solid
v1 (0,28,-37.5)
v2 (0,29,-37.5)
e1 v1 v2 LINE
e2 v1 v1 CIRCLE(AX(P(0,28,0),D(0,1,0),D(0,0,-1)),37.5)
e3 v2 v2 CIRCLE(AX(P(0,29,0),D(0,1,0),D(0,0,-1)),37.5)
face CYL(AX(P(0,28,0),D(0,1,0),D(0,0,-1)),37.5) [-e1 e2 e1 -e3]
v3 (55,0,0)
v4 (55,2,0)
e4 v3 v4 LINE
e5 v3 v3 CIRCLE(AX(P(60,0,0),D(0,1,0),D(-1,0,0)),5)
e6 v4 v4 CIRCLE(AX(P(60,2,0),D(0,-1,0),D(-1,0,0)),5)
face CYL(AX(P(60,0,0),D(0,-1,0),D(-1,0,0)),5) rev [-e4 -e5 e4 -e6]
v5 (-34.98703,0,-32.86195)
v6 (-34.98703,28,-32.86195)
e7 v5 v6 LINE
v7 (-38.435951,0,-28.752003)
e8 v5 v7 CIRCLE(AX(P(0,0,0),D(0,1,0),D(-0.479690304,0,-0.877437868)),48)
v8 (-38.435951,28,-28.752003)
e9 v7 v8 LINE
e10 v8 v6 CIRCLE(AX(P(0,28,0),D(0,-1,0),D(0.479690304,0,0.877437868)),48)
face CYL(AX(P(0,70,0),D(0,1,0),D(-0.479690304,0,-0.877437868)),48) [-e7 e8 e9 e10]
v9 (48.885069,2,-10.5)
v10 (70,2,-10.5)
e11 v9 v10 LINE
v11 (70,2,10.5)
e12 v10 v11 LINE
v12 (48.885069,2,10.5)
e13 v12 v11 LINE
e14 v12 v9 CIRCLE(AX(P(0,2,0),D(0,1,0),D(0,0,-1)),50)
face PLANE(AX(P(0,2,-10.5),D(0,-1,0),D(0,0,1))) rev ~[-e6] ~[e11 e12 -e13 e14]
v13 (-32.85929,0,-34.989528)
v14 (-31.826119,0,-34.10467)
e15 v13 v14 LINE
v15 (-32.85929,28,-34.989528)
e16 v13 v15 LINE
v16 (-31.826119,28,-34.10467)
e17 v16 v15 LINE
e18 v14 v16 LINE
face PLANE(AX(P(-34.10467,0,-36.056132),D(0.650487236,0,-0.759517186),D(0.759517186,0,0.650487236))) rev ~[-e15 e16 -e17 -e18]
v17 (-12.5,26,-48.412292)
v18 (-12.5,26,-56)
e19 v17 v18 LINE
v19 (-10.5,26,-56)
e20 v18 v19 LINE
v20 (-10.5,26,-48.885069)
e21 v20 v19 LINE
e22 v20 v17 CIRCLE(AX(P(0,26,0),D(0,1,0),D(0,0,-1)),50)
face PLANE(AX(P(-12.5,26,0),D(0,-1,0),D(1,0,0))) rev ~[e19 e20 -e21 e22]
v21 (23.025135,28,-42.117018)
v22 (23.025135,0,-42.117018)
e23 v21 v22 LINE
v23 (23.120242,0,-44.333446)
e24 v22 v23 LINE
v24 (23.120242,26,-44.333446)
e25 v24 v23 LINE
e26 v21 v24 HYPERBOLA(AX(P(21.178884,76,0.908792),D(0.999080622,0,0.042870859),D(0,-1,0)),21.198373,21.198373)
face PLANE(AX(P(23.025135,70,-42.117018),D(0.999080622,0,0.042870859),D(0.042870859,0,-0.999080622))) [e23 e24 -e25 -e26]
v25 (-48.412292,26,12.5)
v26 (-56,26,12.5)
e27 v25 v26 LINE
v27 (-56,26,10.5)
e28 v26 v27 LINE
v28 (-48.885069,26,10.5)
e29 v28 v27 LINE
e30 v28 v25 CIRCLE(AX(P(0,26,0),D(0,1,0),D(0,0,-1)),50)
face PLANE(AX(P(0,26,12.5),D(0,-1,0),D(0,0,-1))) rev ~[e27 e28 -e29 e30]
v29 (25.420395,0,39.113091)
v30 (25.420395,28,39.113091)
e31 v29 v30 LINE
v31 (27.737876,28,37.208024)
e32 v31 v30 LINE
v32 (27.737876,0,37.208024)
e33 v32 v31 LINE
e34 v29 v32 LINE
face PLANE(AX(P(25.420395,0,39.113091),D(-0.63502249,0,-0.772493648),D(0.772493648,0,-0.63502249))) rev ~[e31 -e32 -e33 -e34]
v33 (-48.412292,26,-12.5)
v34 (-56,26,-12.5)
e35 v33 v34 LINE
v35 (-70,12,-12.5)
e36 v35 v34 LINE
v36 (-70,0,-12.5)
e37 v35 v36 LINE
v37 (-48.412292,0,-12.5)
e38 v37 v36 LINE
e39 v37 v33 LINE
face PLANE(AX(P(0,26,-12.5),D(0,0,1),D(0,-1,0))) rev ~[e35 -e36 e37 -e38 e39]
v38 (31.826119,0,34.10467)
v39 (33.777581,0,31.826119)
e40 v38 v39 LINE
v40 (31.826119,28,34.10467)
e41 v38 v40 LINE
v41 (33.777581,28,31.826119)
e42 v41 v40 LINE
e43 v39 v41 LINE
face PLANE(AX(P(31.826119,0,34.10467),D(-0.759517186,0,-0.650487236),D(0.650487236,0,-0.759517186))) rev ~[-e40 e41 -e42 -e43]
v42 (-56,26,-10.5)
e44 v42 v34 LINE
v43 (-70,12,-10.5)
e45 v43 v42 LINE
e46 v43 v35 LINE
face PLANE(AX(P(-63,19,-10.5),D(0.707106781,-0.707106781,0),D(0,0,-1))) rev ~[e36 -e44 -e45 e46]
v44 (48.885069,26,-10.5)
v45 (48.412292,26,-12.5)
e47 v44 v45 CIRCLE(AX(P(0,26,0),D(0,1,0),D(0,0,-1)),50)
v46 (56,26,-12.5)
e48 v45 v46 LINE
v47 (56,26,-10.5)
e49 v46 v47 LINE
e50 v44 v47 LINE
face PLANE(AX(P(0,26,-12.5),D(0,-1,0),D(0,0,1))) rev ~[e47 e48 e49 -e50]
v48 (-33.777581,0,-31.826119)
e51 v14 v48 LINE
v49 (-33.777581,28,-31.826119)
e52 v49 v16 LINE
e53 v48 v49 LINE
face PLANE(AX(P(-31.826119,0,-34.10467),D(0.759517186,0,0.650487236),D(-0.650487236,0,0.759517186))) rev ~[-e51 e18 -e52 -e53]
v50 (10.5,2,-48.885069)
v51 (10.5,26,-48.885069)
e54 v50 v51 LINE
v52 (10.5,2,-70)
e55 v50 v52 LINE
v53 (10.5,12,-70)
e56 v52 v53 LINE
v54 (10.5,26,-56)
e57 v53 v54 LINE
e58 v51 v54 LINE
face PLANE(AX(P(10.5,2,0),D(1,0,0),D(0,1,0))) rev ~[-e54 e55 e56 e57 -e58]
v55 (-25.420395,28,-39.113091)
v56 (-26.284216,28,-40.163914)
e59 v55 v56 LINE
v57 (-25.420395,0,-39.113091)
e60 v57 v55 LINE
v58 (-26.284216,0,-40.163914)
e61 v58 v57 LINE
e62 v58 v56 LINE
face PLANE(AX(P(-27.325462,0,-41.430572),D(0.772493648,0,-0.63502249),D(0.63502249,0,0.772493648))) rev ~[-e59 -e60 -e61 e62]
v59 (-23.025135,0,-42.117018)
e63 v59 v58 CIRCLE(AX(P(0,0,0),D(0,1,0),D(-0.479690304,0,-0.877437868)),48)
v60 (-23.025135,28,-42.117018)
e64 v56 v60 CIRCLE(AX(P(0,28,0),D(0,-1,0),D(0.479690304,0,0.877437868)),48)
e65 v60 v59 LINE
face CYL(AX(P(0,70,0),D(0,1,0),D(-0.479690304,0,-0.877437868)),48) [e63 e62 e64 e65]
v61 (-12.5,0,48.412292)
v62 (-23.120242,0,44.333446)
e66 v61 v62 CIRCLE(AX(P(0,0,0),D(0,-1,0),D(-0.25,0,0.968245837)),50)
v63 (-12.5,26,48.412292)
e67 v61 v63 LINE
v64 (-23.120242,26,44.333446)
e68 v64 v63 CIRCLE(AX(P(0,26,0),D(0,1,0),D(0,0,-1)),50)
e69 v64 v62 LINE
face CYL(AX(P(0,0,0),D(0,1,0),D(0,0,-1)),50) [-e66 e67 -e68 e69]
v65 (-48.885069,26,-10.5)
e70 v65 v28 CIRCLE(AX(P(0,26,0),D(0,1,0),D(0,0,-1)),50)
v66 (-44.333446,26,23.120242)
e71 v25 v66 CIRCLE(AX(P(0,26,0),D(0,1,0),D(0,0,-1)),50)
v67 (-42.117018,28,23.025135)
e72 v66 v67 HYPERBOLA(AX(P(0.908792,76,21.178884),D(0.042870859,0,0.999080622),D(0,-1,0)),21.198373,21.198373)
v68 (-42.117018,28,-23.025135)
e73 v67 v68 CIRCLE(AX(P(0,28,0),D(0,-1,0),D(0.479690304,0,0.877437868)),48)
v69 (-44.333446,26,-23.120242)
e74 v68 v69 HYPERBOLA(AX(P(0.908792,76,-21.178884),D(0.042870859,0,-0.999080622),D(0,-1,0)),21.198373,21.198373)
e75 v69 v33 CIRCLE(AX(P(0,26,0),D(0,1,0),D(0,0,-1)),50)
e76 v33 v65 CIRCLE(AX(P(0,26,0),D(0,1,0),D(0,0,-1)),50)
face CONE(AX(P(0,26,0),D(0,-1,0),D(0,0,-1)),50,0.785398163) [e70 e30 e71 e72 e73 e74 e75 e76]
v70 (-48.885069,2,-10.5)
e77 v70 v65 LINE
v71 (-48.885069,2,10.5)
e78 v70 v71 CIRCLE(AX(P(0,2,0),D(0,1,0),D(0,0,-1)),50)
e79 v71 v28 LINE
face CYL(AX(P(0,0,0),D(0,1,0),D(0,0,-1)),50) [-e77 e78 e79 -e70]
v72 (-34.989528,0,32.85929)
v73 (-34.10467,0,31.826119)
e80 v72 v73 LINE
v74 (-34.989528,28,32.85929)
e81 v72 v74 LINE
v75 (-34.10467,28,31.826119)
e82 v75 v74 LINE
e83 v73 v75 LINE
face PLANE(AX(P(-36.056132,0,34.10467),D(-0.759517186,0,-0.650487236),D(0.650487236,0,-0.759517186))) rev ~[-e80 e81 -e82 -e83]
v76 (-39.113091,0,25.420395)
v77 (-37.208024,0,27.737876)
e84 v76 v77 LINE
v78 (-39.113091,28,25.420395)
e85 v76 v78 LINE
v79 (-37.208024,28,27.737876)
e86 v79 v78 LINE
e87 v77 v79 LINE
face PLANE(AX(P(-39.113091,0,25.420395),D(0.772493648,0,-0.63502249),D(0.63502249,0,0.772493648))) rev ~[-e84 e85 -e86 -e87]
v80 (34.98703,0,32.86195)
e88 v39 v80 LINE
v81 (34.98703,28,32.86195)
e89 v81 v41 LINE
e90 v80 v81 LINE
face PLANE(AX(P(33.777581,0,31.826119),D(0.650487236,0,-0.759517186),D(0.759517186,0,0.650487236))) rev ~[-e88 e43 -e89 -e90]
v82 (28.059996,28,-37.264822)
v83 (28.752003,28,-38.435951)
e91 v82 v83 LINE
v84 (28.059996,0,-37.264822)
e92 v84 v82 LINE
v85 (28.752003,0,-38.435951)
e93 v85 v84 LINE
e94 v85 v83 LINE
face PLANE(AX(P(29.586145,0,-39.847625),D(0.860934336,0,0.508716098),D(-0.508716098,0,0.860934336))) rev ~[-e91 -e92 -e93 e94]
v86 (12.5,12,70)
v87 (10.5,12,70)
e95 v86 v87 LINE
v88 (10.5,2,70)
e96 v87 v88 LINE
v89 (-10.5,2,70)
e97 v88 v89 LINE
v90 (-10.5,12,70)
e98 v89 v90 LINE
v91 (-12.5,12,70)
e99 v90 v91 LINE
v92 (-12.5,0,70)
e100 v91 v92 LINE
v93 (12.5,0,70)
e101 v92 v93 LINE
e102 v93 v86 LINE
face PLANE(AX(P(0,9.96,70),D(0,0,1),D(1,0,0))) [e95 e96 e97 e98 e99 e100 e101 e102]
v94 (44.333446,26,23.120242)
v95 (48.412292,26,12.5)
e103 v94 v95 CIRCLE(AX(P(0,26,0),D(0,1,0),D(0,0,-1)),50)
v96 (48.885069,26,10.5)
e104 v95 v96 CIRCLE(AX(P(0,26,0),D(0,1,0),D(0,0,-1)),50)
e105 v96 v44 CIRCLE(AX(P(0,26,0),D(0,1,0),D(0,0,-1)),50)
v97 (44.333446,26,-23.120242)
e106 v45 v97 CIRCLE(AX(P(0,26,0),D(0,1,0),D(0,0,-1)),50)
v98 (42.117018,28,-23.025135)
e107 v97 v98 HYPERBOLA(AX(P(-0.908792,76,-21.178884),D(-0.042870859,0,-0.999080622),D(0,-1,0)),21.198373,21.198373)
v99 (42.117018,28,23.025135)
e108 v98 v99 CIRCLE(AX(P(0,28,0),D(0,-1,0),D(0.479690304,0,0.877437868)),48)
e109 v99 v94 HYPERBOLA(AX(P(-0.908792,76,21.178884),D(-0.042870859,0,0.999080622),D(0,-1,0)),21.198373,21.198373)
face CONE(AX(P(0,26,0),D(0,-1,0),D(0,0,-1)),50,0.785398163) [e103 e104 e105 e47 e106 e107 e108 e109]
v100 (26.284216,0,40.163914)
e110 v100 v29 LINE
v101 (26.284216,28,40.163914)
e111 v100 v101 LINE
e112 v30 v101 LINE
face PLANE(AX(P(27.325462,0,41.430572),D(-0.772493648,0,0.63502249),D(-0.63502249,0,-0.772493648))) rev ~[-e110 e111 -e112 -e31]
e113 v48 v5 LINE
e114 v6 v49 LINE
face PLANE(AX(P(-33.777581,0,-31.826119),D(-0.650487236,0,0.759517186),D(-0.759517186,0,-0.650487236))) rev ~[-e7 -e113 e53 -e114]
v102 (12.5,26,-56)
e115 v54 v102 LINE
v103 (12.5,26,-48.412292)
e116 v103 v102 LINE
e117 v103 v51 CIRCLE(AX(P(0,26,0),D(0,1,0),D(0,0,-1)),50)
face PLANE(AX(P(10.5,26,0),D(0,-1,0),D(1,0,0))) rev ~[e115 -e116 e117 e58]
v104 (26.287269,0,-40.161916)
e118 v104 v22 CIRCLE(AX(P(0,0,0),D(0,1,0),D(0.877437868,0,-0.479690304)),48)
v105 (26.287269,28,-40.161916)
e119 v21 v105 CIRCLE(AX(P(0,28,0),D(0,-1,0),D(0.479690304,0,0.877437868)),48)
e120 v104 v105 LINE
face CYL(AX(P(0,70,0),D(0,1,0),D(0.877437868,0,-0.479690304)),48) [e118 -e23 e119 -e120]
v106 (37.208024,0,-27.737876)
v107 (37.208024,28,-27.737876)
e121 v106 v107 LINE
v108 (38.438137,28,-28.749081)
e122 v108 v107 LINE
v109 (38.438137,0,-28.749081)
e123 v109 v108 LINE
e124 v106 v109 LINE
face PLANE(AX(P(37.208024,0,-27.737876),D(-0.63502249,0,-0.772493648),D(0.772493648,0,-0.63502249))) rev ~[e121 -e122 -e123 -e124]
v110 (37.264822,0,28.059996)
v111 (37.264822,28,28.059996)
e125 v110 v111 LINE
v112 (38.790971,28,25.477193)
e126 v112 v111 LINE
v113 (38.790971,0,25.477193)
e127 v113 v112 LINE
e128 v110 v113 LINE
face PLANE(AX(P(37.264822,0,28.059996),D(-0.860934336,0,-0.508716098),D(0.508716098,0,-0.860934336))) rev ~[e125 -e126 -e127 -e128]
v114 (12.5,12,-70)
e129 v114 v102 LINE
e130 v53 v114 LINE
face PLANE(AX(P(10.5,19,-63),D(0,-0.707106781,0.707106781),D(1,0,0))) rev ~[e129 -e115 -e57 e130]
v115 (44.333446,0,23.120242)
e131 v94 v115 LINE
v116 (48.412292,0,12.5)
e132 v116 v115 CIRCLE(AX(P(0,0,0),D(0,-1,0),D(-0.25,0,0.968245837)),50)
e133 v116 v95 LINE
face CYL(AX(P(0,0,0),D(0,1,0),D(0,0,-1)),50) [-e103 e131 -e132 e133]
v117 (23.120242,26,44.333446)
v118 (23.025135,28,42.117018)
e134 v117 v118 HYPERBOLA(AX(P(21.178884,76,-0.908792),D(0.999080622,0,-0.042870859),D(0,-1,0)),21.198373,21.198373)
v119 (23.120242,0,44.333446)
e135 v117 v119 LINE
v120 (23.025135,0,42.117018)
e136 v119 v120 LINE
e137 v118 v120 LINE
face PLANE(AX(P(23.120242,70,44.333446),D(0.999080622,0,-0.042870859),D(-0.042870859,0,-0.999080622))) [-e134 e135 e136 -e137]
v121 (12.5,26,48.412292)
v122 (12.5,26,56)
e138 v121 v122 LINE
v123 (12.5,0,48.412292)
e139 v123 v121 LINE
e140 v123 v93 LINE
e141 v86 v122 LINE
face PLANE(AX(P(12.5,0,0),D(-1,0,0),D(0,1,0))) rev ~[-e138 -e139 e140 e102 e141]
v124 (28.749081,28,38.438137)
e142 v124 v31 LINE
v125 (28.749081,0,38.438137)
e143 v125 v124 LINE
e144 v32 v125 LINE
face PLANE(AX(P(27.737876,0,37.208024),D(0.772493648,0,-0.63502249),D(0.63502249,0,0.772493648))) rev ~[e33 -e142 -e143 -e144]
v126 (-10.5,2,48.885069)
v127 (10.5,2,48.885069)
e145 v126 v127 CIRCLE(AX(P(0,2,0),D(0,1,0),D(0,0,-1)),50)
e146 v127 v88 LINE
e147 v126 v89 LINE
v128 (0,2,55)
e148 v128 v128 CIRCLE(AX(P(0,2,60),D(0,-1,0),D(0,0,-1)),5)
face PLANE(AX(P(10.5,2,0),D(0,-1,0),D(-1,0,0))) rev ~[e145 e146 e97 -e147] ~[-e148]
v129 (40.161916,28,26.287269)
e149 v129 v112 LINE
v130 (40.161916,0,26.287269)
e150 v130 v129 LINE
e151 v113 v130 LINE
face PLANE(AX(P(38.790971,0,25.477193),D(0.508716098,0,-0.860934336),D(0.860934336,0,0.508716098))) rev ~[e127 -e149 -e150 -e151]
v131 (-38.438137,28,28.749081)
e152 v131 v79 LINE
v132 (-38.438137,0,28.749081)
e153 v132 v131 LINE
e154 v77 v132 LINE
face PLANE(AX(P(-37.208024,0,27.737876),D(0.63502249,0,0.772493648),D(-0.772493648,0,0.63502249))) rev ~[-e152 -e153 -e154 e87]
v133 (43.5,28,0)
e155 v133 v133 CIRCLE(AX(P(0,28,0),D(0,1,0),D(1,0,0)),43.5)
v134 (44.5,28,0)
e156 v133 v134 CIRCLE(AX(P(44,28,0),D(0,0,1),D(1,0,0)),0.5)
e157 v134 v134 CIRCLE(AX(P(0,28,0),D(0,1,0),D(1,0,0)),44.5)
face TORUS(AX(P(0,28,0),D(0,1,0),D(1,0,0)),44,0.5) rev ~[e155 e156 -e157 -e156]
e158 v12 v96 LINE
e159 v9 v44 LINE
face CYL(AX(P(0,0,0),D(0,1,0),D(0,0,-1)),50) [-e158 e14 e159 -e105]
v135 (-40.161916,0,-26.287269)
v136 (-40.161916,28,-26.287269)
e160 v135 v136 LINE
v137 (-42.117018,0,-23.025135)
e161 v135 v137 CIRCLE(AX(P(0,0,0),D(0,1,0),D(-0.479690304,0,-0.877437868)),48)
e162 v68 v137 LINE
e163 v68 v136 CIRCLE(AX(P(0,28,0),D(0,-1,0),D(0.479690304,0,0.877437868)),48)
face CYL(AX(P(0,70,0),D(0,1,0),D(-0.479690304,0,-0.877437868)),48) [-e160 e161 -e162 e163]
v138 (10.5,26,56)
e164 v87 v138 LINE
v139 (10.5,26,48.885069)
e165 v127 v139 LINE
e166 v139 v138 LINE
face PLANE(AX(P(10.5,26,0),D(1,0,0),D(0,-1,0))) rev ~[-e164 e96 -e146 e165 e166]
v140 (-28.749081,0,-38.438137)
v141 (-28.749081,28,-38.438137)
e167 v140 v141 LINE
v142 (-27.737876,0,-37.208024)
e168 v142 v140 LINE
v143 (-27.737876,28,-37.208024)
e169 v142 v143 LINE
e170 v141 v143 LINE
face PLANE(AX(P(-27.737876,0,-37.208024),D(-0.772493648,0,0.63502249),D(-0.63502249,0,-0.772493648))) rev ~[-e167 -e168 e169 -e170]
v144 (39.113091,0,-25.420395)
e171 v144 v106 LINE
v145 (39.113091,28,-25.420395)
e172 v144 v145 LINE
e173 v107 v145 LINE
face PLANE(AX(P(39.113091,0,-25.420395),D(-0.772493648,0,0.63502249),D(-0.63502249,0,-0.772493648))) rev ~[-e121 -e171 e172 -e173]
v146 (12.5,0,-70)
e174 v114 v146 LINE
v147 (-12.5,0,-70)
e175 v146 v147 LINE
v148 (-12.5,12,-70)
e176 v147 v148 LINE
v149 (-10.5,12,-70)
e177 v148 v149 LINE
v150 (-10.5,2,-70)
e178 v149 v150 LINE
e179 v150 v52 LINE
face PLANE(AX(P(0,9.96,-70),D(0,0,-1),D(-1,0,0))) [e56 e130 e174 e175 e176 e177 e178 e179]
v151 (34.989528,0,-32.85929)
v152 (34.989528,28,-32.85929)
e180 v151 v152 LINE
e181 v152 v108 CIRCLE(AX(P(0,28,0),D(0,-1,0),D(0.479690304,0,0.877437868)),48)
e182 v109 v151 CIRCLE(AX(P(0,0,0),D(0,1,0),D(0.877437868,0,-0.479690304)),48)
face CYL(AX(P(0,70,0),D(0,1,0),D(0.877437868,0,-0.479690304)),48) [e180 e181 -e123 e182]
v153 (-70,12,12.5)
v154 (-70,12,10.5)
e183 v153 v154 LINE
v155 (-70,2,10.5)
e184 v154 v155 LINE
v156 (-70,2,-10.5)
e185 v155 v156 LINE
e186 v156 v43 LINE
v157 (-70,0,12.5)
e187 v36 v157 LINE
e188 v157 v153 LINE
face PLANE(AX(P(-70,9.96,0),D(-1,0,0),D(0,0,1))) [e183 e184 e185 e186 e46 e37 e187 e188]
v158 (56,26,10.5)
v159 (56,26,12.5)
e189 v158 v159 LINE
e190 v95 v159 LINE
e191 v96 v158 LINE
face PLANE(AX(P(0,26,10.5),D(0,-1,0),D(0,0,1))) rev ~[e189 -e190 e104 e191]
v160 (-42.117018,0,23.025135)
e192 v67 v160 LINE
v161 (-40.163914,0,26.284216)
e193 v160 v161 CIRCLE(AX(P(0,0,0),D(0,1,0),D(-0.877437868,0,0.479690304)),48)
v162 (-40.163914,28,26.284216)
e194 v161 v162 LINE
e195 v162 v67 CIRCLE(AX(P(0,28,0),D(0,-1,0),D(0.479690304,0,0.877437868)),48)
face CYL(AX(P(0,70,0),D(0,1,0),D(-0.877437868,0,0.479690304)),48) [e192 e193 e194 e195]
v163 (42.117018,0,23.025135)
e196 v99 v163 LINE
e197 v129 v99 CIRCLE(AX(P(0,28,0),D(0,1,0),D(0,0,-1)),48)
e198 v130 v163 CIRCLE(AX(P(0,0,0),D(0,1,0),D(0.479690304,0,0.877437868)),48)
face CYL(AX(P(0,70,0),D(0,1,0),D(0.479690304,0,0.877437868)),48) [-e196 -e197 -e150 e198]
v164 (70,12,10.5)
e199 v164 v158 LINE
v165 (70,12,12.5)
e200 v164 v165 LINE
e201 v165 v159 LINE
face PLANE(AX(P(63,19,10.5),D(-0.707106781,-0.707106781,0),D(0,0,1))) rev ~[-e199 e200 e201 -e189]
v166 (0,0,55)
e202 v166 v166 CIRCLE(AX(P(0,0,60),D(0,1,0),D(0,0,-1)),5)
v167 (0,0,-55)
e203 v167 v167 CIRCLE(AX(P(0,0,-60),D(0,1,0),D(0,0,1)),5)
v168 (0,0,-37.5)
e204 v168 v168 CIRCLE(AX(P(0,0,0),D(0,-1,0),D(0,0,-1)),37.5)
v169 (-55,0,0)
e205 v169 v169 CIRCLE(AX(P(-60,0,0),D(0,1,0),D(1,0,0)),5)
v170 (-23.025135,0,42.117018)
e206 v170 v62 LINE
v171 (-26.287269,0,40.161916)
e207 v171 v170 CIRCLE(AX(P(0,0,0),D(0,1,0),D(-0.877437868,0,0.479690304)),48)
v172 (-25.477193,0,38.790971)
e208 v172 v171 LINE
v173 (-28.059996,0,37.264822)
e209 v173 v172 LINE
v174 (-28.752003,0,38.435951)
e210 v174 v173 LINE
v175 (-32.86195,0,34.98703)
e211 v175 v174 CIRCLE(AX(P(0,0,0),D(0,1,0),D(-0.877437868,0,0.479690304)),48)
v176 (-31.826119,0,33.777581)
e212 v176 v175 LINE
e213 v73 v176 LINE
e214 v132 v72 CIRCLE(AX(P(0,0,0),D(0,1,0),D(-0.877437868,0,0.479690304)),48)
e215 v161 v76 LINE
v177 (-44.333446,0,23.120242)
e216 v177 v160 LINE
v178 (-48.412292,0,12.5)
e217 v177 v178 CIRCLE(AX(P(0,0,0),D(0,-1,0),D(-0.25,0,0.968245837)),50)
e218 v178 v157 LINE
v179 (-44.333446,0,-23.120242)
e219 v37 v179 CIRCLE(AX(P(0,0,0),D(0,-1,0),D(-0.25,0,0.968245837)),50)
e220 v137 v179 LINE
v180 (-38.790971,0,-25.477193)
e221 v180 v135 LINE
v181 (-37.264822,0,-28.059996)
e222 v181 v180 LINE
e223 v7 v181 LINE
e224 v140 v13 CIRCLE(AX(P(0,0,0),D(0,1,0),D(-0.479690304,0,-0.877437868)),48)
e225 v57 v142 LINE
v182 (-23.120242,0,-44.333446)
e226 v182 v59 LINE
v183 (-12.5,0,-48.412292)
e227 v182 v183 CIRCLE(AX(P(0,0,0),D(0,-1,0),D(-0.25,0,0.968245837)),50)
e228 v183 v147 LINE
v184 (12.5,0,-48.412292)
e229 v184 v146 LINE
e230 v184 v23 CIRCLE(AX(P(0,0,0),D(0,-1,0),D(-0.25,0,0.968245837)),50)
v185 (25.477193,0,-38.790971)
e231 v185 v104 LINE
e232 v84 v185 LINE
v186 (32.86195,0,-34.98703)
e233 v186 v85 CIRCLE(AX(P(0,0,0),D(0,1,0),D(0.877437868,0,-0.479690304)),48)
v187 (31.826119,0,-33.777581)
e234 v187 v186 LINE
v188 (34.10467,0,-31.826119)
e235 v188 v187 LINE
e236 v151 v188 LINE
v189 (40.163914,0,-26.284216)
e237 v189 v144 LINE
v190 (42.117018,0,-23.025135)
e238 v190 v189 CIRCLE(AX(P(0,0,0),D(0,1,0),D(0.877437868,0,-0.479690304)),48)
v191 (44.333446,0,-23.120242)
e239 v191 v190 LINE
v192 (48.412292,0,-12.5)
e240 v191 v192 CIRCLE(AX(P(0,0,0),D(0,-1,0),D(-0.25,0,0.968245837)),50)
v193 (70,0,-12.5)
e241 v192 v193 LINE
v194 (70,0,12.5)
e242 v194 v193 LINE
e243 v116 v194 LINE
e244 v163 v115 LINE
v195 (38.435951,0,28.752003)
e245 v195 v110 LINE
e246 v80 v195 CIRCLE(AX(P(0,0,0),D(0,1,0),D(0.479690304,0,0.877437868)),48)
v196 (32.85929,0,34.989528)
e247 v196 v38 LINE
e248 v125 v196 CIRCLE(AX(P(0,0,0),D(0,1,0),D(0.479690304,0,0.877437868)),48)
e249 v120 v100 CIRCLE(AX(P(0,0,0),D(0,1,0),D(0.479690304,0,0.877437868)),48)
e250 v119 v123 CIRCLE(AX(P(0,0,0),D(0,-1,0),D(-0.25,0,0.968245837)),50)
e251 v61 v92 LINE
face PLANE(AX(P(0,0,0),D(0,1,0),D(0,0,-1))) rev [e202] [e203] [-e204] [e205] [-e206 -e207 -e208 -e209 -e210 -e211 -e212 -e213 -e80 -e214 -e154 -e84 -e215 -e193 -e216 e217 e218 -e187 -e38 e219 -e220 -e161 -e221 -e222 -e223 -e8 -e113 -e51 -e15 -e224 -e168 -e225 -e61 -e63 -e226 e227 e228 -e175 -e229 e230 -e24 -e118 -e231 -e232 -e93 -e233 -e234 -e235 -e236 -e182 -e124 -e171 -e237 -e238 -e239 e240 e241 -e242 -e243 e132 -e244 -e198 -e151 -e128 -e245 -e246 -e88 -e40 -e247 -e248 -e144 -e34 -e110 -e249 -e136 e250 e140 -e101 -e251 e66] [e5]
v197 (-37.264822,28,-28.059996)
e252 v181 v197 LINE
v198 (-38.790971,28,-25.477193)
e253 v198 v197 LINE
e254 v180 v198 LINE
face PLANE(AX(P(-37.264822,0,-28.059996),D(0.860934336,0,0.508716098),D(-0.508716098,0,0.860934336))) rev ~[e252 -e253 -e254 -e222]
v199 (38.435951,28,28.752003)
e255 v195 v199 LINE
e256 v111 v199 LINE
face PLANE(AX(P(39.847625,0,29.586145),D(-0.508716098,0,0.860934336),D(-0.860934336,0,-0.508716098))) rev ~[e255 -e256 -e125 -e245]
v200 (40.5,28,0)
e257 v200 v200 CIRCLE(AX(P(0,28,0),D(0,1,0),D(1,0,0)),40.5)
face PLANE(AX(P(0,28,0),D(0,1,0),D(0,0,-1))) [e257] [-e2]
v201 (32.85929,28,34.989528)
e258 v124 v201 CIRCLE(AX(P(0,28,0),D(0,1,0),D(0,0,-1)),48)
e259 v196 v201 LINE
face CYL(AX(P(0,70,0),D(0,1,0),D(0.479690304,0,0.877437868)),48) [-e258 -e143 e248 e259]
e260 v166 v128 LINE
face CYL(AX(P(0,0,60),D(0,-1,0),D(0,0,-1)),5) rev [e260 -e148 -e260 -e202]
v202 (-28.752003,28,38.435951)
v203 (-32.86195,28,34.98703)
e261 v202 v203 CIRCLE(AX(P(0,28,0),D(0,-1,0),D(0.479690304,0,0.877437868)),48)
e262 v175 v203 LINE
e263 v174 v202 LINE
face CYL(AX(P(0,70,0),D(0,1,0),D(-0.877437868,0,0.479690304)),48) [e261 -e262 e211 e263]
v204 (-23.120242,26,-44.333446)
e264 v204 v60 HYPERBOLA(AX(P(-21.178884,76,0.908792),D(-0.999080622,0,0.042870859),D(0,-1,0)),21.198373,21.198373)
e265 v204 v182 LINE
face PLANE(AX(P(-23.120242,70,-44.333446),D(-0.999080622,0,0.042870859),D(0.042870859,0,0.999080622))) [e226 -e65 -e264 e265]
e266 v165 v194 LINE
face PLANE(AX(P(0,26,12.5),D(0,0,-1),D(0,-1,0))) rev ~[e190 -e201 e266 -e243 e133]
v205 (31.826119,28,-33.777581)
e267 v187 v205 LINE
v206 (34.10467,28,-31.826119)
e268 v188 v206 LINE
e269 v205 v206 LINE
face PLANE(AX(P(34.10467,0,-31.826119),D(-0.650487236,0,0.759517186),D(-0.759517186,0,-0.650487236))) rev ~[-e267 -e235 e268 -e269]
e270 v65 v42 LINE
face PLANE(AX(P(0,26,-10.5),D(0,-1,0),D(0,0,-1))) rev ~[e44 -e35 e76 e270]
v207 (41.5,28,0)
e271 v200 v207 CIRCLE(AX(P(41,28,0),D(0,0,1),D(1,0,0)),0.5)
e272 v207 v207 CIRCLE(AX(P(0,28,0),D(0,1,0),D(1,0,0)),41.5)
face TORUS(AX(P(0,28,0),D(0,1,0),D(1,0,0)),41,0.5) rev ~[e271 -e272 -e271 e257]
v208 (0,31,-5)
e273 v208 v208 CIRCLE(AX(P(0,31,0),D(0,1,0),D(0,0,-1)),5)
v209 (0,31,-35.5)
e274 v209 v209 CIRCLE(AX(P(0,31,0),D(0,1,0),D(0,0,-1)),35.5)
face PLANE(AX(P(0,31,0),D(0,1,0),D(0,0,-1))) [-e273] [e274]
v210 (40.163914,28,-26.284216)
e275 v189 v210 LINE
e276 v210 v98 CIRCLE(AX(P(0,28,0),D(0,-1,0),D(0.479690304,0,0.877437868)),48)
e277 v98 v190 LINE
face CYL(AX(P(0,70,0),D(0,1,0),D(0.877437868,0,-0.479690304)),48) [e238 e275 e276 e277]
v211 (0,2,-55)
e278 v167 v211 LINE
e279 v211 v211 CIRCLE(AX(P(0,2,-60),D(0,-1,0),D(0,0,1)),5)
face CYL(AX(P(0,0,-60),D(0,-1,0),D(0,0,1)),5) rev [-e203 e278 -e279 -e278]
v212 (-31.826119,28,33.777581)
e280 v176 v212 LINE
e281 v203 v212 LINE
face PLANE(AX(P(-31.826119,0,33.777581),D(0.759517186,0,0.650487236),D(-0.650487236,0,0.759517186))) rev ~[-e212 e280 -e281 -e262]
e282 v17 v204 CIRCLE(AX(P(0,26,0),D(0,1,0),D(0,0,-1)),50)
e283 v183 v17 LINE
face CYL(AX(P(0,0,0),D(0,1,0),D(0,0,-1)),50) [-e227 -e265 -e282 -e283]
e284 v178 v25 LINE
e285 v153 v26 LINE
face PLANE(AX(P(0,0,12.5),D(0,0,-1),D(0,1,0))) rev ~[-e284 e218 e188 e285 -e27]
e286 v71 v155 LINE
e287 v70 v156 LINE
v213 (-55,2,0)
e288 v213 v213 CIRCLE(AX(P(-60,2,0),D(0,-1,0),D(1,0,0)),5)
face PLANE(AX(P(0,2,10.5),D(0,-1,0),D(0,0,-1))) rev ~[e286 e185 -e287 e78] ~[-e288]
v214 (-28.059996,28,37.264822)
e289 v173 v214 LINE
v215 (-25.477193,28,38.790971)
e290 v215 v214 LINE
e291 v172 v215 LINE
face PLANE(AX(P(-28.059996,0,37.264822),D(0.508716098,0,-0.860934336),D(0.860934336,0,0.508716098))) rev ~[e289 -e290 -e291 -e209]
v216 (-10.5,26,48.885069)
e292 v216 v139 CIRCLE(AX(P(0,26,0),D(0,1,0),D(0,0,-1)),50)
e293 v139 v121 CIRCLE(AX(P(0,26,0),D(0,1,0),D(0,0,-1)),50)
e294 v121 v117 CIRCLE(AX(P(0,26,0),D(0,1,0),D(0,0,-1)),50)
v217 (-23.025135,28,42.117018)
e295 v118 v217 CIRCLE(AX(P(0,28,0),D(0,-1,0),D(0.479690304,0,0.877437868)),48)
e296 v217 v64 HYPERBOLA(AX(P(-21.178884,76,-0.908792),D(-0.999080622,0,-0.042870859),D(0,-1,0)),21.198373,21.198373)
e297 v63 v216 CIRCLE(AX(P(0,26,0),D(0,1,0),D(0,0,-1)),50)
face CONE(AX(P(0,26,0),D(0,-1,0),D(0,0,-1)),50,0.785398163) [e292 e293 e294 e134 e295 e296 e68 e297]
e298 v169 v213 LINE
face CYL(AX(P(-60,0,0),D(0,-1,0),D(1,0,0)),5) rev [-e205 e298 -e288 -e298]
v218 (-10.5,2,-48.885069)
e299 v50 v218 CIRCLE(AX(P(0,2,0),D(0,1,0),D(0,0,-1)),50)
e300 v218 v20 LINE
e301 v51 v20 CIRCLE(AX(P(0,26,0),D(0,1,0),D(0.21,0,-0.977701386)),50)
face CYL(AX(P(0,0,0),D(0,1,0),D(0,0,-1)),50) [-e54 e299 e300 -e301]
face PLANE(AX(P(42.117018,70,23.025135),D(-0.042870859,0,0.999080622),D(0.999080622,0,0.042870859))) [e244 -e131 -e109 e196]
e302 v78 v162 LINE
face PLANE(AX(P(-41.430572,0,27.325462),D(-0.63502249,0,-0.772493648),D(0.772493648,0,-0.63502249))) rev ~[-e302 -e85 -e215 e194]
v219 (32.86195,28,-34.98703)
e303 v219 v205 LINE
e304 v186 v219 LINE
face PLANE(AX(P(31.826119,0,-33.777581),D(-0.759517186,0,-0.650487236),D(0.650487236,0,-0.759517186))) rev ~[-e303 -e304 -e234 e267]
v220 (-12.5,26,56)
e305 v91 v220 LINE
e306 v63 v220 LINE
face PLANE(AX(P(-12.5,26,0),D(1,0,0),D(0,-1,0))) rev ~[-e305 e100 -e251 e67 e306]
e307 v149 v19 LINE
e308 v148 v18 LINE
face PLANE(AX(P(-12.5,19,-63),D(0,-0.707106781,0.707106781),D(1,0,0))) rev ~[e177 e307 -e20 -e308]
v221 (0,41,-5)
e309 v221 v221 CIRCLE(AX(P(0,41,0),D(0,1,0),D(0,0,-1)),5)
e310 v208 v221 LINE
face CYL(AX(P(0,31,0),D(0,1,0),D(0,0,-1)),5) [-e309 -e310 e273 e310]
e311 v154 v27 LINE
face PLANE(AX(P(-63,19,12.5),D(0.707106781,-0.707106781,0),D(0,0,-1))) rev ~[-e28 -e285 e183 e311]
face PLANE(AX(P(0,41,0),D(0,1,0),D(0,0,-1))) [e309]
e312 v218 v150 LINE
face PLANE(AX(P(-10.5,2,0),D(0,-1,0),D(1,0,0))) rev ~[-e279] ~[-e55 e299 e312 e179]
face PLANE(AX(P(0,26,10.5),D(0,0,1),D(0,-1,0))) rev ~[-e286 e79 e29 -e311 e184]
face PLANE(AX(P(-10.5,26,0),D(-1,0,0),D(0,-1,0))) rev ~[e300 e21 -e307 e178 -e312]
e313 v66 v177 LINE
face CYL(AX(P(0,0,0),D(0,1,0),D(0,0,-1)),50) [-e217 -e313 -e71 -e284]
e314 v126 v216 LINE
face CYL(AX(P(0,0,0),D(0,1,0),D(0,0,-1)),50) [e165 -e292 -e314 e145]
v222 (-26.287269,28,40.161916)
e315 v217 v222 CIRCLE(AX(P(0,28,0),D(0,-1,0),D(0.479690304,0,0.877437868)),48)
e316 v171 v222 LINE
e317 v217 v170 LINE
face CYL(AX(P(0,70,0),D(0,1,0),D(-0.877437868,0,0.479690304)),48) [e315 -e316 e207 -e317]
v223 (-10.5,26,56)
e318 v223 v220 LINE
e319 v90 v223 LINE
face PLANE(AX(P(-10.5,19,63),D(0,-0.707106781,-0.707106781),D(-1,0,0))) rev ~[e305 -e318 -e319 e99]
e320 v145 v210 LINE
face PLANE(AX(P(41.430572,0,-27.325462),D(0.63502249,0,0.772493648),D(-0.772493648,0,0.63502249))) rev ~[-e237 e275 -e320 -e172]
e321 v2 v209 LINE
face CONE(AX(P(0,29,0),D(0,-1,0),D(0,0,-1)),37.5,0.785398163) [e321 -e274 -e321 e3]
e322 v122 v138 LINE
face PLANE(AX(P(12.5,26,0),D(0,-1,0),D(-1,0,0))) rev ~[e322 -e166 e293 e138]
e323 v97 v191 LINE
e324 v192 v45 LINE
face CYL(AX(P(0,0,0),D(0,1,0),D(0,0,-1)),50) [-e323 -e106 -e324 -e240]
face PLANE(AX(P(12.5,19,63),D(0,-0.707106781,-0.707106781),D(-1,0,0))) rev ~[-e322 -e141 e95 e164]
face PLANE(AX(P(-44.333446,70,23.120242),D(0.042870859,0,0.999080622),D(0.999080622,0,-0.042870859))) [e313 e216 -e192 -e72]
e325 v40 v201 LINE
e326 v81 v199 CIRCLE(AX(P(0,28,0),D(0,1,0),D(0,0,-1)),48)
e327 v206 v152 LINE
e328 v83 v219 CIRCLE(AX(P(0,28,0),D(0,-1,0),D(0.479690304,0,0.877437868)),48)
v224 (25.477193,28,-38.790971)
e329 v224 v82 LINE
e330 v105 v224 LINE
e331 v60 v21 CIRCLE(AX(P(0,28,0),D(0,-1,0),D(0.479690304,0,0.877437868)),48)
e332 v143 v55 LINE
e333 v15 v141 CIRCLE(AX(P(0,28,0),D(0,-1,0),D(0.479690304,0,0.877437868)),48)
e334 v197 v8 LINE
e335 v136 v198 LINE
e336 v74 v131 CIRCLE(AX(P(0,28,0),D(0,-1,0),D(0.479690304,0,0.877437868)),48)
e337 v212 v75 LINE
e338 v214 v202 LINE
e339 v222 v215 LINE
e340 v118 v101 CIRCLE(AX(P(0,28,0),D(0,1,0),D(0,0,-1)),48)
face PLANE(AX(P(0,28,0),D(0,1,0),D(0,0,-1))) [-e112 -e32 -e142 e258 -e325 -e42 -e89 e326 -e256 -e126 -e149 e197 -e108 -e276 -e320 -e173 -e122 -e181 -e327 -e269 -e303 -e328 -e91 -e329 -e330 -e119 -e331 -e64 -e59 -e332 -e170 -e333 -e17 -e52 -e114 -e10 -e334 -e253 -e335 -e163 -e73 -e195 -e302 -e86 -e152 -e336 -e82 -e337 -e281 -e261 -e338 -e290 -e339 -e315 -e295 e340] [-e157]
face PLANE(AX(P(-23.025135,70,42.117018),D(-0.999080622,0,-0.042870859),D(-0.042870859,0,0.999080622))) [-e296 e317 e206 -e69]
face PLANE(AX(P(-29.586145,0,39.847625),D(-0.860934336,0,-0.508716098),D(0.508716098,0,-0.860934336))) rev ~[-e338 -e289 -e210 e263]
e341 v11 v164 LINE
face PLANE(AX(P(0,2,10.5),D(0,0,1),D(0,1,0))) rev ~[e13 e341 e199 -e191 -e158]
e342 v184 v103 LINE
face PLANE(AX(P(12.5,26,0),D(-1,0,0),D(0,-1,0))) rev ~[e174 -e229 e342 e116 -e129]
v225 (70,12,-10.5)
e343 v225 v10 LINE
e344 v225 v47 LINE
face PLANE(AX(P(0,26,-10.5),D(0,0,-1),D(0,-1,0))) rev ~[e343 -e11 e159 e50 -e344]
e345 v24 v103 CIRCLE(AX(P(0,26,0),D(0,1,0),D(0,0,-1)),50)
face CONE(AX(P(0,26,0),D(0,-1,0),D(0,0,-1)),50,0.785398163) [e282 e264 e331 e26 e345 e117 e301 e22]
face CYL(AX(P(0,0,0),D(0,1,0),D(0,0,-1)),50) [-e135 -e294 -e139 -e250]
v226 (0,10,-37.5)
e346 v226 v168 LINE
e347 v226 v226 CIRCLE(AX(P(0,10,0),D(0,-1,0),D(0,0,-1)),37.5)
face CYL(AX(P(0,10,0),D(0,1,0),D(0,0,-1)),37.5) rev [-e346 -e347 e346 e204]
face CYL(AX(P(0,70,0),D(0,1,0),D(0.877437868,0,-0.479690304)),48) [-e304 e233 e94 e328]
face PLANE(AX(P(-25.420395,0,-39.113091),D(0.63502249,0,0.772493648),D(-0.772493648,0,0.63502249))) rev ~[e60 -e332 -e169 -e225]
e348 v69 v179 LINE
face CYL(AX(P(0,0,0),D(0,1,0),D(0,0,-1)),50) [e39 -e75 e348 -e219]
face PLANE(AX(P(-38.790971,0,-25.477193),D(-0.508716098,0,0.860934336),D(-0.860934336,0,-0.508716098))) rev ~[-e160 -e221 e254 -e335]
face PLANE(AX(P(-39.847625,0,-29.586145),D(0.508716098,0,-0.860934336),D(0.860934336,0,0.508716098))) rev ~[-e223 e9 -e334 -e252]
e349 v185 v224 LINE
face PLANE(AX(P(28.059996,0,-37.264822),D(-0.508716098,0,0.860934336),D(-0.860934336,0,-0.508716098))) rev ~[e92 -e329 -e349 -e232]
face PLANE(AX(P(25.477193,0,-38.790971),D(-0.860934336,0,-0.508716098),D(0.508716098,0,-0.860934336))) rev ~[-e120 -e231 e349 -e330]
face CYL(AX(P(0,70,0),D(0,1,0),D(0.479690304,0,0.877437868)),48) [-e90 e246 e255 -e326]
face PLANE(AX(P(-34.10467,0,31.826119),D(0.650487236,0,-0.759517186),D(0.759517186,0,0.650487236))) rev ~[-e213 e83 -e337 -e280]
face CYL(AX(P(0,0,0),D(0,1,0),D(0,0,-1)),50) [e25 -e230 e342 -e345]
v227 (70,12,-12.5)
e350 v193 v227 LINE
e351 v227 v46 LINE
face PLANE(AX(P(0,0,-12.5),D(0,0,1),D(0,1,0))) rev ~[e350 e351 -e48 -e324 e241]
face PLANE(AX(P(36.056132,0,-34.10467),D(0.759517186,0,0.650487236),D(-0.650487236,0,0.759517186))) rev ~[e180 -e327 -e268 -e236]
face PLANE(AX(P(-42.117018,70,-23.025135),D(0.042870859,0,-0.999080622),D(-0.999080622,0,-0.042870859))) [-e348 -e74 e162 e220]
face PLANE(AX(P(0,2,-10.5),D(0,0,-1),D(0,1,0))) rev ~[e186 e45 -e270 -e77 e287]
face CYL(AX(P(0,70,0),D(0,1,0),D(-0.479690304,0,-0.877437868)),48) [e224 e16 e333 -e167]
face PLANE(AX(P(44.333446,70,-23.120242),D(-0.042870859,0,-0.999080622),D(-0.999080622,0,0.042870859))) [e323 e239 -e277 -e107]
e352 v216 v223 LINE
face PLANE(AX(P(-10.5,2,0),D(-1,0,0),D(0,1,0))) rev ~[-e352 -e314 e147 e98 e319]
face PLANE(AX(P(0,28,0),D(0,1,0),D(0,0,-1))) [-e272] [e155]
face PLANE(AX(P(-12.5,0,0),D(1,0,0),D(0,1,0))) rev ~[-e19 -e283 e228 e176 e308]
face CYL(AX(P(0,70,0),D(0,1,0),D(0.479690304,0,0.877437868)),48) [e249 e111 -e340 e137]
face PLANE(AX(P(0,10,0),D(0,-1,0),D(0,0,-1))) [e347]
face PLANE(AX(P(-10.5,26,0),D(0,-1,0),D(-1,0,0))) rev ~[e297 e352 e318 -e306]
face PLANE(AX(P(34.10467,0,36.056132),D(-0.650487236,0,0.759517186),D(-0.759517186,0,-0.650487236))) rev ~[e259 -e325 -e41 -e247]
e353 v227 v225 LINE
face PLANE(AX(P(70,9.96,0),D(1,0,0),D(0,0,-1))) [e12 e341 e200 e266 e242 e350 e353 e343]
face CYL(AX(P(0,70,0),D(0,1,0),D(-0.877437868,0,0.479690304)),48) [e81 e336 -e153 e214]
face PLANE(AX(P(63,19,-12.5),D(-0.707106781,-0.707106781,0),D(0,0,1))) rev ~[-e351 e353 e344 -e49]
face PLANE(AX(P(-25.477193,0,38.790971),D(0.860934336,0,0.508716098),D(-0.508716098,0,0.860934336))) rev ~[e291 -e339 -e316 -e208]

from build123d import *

# Parameters (mm, degrees)
CHAMFER1_SIZE                   = 2
BOSS_EXTRUDE1_DEPTH             = 70
CHAMFER2_SIZE                   = 14
SKETCH3_R                       = 5
CUT_EXTRUDE1_DEPTH              = 70
CIRPATTERN1_COUNT               = 4
CHAMFER2_OF_CIRPATTERN1_SIZE    = 14
CUT_EXTRUDE3_START              = 70
CUT_EXTRUDE3_DEPTH              = 70
CUT_EXTRUDE4_DEPTH              = 70
CIRPATTERN2_COUNT               = 2
CIRPATTERN2_ANGLE               = 10
CIRPATTERN2_THE_OTHER_WAY_COUNT = 2
CIRPATTERN2_THE_OTHER_WAY_ANGLE = 10
CIRPATTERN3_COUNT               = 4
CIRPATTERN3_COPY_1_DEPTH        = 70
CIRPATTERN3_COPY_2_DEPTH        = 70
CIRPATTERN3_COPY_3_DEPTH        = 70
CIRPATTERN3_COPY_4_DEPTH        = 70
CIRPATTERN3_COPY_5_DEPTH        = 70
CIRPATTERN3_COPY_6_DEPTH        = 70
CUT_SWEEP1_PROFILE_R            = 0.5
CUT_SWEEP2_PROFILE_R            = 0.5
CUT_EXTRUDE5_START              = -10
SKETCH41_R                      = 37.5
CUT_EXTRUDE5_DEPTH              = 10


with BuildPart() as part:
    # Sketch1 → Revolve1 (revolve)
    with BuildSketch(Plane.XY, mode=Mode.PRIVATE) as revolve1_sk:
        Polygon((0, 0), (-50, 0), (-50, 28), (-37.5, 28), (-37.5, 31), (-5, 31), (-5, 41), (0, 41), align=None)
    revolve(revolve1_sk.sketch.rotate(Axis((0, 0, 0), (0, 1, 0)), 270), axis=Axis((0, 0, 0), (0, 1, 0)))

    # Chamfer1
    chamfer1_edges = [part.edges().sort_by_distance(p)[0] for p in [
        (0, 31, 37.5),
        (0, 28, 50),
    ]]
    chamfer(chamfer1_edges, length=CHAMFER1_SIZE)

    # Sketch2 → Boss-Extrude1 (add)
    with BuildSketch(Plane.XY):
        Polygon((-10.5, 26), (-12.5, 26), (-12.5, 0), (12.5, 0), (12.5, 26), (10.5, 26), (10.5, 2), (-10.5, 2), align=None)
    boss_extrude1 = extrude(amount=BOSS_EXTRUDE1_DEPTH)

    # Chamfer2
    chamfer2_edges = [part.edges().sort_by_distance(p)[0] for p in [
        (-11.5, 26, 70),
        (11.5, 26, 70),
    ]]
    chamfer(chamfer2_edges, length=CHAMFER2_SIZE)

    # Sketch3 → Cut-Extrude1 (cut)
    with BuildSketch(Plane(origin=(0, 0, 0), x_dir=(1, 0, 0), z_dir=(0, 1, 0))):
        with Locations(Location((0, -60, 0), (0, 0, 90))):
            Circle(SKETCH3_R)
    cut_extrude1 = extrude(amount=CUT_EXTRUDE1_DEPTH, mode=Mode.SUBTRACT)

    # CirPattern1: Boss-Extrude1, Cut-Extrude1 ×4 about axis
    cirpattern1_axis = Axis((0, 0, 0), (0, 1, 0))
    add([boss_extrude1.rotate(cirpattern1_axis, i * 360 / CIRPATTERN1_COUNT) for i in range(1, CIRPATTERN1_COUNT)])
    add([cut_extrude1.rotate(cirpattern1_axis, i * 360 / CIRPATTERN1_COUNT) for i in range(1, CIRPATTERN1_COUNT)], mode=Mode.SUBTRACT)

    # Chamfer2 of CirPattern1
    chamfer2_of_cirpattern1_edges = [part.edges().sort_by_distance(p)[0] for p in [
        (70, 26, 11.5),
        (70, 26, -11.5),
        (11.5, 26, -70),
        (-11.5, 26, -70),
        (-70, 26, -11.5),
        (-70, 26, 11.5),
    ]]
    chamfer(chamfer2_of_cirpattern1_edges, length=CHAMFER2_OF_CIRPATTERN1_SIZE)

    # Sketch4 → Cut-Extrude3 (cut)
    with BuildSketch(Plane(origin=(0, 0, 0), x_dir=(1, 0, 0), z_dir=(0, 1, 0)).offset(CUT_EXTRUDE3_START)):
        with BuildLine():
            Line((42.117017672, -23.02513458), (44.333445626, -23.12024219))
            ThreePointArc((44.333445626, -23.12024219), (35.355339059, -35.355339059), (23.12024219, -44.333445626))
            Line((23.12024219, -44.333445626), (23.02513458, -42.117017672))
            ThreePointArc((23.02513458, -42.117017672), (33.941125497, -33.941125497), (42.117017672, -23.02513458))
        make_face()
    cut_extrude3 = extrude(amount=-CUT_EXTRUDE3_DEPTH, mode=Mode.SUBTRACT)

    # Sketch5 → Cut-Extrude4 (cut)
    with BuildSketch(Plane(origin=(0, 0, 0), x_dir=(1, 0, 0), z_dir=(0, 1, 0))):
        Polygon((34.104670422, -36.05613213), (31.826118864, -34.104670422), (33.777580572, -31.826118864), (36.05613213, -33.777580572), align=None)
    cut_extrude4 = extrude(amount=CUT_EXTRUDE4_DEPTH, mode=Mode.SUBTRACT)

    # CirPattern2: Cut-Extrude4 ×2 about axis
    cirpattern2_axis = Axis((0, 0, 0), (0, 1, 0))
    for i in range(1, CIRPATTERN2_COUNT):
        add(cut_extrude4.rotate(cirpattern2_axis, i * CIRPATTERN2_ANGLE / (CIRPATTERN2_COUNT - 1)), mode=Mode.SUBTRACT)

    # CirPattern2 the other way: Cut-Extrude4 ×2 about axis
    cirpattern2_the_other_way_axis = Axis((0, 0, 0), (0, -1, 0))
    for i in range(1, CIRPATTERN2_THE_OTHER_WAY_COUNT):
        add(cut_extrude4.rotate(cirpattern2_the_other_way_axis, i * CIRPATTERN2_THE_OTHER_WAY_ANGLE / (CIRPATTERN2_THE_OTHER_WAY_COUNT - 1)), mode=Mode.SUBTRACT)

    # CirPattern3: Cut-Extrude3, Cut-Extrude4 ×4 about axis
    cirpattern3_axis = Axis((0, 0, 0), (0, 1, 0))
    add([cut_extrude3.rotate(cirpattern3_axis, i * 360 / CIRPATTERN3_COUNT) for i in range(1, CIRPATTERN3_COUNT)], mode=Mode.SUBTRACT)
    add([cut_extrude4.rotate(cirpattern3_axis, i * 360 / CIRPATTERN3_COUNT) for i in range(1, CIRPATTERN3_COUNT)], mode=Mode.SUBTRACT)

    # CirPattern3 copy 1 sketch → CirPattern3 copy 1 (cut)
    with BuildSketch(Plane(origin=(0, 0, 0), x_dir=(-0.1736481776669307, 0, -0.984807753012208), z_dir=(0, 1, 0))):
        Polygon((34.104670422, -36.05613213), (31.826118864, -34.104670422), (33.777580572, -31.826118864), (36.05613213, -33.777580572), align=None)
    extrude(amount=CIRPATTERN3_COPY_1_DEPTH, mode=Mode.SUBTRACT)

    # CirPattern3 copy 2 sketch → CirPattern3 copy 2 (cut)
    with BuildSketch(Plane(origin=(0, 0, 0), x_dir=(-0.984807753012208, 0, 0.17364817766693064), z_dir=(0, 1, 0))):
        Polygon((34.104670422, -36.05613213), (31.826118864, -34.104670422), (33.777580572, -31.826118864), (36.05613213, -33.777580572), align=None)
    extrude(amount=CIRPATTERN3_COPY_2_DEPTH, mode=Mode.SUBTRACT)

    # CirPattern3 copy 3 sketch → CirPattern3 copy 3 (cut)
    with BuildSketch(Plane(origin=(0, 0, 0), x_dir=(0.17364817766693055, 0, 0.984807753012208), z_dir=(0, 1, 0))):
        Polygon((34.104670422, -36.05613213), (31.826118864, -34.104670422), (33.777580572, -31.826118864), (36.05613213, -33.777580572), align=None)
    extrude(amount=CIRPATTERN3_COPY_3_DEPTH, mode=Mode.SUBTRACT)

    # CirPattern3 copy 4 sketch → CirPattern3 copy 4 (cut)
    with BuildSketch(Plane(origin=(0, 0, 0), x_dir=(0.1736481776669308, 0, -0.984807753012208), z_dir=(0, 1, 0))):
        Polygon((34.104670422, -36.05613213), (31.826118864, -34.104670422), (33.777580572, -31.826118864), (36.05613213, -33.777580572), align=None)
    extrude(amount=CIRPATTERN3_COPY_4_DEPTH, mode=Mode.SUBTRACT)

    # CirPattern3 copy 5 sketch → CirPattern3 copy 5 (cut)
    with BuildSketch(Plane(origin=(0, 0, 0), x_dir=(-0.984807753012208, 0, -0.17364817766693086), z_dir=(0, 1, 0))):
        Polygon((34.104670422, -36.05613213), (31.826118864, -34.104670422), (33.777580572, -31.826118864), (36.05613213, -33.777580572), align=None)
    extrude(amount=CIRPATTERN3_COPY_5_DEPTH, mode=Mode.SUBTRACT)

    # CirPattern3 copy 6 sketch → CirPattern3 copy 6 (cut)
    with BuildSketch(Plane(origin=(0, 0, 0), x_dir=(-0.17364817766693094, 0, 0.984807753012208), z_dir=(0, 1, 0))):
        Polygon((34.104670422, -36.05613213), (31.826118864, -34.104670422), (33.777580572, -31.826118864), (36.05613213, -33.777580572), align=None)
    extrude(amount=CIRPATTERN3_COPY_6_DEPTH, mode=Mode.SUBTRACT)

    # Cut-Sweep1: sweep along a path in Sketch9
    with BuildLine(Plane(origin=(0, 28, 0), x_dir=(1, 0, 0), z_dir=(0, 1, 0))) as cut_sweep1_path:
        CenterArc((0, 0), 41, 0, 360)
    # Cut-Sweep1 profile (on start of the path) → Cut-Sweep1 (sweep, cut)
    with BuildSketch(Plane(origin=(41, 28, 0), x_dir=(-1, 0, 0), z_dir=(0, 0, -1))):
        Circle(CUT_SWEEP1_PROFILE_R)
    sweep(path=cut_sweep1_path.line, mode=Mode.SUBTRACT)

    # Cut-Sweep2: sweep along a path in Sketch10
    with BuildLine(Plane(origin=(0, 28, 0), x_dir=(1, 0, 0), z_dir=(0, 1, 0))) as cut_sweep2_path:
        CenterArc((0, 0), 44, 0, 360)
    # Cut-Sweep2 profile (on start of the path) → Cut-Sweep2 (sweep, cut)
    with BuildSketch(Plane(origin=(44, 28, 0), x_dir=(-1, 0, 0), z_dir=(0, 0, -1))):
        Circle(CUT_SWEEP2_PROFILE_R)
    sweep(path=cut_sweep2_path.line, mode=Mode.SUBTRACT)

    # Sketch41 → Cut-Extrude5 (cut)
    with BuildSketch(Plane.XZ.offset(CUT_EXTRUDE5_START)):
        with Locations(Location((0, 0, 0), (0, 0, 270))):
            Circle(SKETCH41_R)
    extrude(amount=CUT_EXTRUDE5_DEPTH, mode=Mode.SUBTRACT)


solid = part.part
